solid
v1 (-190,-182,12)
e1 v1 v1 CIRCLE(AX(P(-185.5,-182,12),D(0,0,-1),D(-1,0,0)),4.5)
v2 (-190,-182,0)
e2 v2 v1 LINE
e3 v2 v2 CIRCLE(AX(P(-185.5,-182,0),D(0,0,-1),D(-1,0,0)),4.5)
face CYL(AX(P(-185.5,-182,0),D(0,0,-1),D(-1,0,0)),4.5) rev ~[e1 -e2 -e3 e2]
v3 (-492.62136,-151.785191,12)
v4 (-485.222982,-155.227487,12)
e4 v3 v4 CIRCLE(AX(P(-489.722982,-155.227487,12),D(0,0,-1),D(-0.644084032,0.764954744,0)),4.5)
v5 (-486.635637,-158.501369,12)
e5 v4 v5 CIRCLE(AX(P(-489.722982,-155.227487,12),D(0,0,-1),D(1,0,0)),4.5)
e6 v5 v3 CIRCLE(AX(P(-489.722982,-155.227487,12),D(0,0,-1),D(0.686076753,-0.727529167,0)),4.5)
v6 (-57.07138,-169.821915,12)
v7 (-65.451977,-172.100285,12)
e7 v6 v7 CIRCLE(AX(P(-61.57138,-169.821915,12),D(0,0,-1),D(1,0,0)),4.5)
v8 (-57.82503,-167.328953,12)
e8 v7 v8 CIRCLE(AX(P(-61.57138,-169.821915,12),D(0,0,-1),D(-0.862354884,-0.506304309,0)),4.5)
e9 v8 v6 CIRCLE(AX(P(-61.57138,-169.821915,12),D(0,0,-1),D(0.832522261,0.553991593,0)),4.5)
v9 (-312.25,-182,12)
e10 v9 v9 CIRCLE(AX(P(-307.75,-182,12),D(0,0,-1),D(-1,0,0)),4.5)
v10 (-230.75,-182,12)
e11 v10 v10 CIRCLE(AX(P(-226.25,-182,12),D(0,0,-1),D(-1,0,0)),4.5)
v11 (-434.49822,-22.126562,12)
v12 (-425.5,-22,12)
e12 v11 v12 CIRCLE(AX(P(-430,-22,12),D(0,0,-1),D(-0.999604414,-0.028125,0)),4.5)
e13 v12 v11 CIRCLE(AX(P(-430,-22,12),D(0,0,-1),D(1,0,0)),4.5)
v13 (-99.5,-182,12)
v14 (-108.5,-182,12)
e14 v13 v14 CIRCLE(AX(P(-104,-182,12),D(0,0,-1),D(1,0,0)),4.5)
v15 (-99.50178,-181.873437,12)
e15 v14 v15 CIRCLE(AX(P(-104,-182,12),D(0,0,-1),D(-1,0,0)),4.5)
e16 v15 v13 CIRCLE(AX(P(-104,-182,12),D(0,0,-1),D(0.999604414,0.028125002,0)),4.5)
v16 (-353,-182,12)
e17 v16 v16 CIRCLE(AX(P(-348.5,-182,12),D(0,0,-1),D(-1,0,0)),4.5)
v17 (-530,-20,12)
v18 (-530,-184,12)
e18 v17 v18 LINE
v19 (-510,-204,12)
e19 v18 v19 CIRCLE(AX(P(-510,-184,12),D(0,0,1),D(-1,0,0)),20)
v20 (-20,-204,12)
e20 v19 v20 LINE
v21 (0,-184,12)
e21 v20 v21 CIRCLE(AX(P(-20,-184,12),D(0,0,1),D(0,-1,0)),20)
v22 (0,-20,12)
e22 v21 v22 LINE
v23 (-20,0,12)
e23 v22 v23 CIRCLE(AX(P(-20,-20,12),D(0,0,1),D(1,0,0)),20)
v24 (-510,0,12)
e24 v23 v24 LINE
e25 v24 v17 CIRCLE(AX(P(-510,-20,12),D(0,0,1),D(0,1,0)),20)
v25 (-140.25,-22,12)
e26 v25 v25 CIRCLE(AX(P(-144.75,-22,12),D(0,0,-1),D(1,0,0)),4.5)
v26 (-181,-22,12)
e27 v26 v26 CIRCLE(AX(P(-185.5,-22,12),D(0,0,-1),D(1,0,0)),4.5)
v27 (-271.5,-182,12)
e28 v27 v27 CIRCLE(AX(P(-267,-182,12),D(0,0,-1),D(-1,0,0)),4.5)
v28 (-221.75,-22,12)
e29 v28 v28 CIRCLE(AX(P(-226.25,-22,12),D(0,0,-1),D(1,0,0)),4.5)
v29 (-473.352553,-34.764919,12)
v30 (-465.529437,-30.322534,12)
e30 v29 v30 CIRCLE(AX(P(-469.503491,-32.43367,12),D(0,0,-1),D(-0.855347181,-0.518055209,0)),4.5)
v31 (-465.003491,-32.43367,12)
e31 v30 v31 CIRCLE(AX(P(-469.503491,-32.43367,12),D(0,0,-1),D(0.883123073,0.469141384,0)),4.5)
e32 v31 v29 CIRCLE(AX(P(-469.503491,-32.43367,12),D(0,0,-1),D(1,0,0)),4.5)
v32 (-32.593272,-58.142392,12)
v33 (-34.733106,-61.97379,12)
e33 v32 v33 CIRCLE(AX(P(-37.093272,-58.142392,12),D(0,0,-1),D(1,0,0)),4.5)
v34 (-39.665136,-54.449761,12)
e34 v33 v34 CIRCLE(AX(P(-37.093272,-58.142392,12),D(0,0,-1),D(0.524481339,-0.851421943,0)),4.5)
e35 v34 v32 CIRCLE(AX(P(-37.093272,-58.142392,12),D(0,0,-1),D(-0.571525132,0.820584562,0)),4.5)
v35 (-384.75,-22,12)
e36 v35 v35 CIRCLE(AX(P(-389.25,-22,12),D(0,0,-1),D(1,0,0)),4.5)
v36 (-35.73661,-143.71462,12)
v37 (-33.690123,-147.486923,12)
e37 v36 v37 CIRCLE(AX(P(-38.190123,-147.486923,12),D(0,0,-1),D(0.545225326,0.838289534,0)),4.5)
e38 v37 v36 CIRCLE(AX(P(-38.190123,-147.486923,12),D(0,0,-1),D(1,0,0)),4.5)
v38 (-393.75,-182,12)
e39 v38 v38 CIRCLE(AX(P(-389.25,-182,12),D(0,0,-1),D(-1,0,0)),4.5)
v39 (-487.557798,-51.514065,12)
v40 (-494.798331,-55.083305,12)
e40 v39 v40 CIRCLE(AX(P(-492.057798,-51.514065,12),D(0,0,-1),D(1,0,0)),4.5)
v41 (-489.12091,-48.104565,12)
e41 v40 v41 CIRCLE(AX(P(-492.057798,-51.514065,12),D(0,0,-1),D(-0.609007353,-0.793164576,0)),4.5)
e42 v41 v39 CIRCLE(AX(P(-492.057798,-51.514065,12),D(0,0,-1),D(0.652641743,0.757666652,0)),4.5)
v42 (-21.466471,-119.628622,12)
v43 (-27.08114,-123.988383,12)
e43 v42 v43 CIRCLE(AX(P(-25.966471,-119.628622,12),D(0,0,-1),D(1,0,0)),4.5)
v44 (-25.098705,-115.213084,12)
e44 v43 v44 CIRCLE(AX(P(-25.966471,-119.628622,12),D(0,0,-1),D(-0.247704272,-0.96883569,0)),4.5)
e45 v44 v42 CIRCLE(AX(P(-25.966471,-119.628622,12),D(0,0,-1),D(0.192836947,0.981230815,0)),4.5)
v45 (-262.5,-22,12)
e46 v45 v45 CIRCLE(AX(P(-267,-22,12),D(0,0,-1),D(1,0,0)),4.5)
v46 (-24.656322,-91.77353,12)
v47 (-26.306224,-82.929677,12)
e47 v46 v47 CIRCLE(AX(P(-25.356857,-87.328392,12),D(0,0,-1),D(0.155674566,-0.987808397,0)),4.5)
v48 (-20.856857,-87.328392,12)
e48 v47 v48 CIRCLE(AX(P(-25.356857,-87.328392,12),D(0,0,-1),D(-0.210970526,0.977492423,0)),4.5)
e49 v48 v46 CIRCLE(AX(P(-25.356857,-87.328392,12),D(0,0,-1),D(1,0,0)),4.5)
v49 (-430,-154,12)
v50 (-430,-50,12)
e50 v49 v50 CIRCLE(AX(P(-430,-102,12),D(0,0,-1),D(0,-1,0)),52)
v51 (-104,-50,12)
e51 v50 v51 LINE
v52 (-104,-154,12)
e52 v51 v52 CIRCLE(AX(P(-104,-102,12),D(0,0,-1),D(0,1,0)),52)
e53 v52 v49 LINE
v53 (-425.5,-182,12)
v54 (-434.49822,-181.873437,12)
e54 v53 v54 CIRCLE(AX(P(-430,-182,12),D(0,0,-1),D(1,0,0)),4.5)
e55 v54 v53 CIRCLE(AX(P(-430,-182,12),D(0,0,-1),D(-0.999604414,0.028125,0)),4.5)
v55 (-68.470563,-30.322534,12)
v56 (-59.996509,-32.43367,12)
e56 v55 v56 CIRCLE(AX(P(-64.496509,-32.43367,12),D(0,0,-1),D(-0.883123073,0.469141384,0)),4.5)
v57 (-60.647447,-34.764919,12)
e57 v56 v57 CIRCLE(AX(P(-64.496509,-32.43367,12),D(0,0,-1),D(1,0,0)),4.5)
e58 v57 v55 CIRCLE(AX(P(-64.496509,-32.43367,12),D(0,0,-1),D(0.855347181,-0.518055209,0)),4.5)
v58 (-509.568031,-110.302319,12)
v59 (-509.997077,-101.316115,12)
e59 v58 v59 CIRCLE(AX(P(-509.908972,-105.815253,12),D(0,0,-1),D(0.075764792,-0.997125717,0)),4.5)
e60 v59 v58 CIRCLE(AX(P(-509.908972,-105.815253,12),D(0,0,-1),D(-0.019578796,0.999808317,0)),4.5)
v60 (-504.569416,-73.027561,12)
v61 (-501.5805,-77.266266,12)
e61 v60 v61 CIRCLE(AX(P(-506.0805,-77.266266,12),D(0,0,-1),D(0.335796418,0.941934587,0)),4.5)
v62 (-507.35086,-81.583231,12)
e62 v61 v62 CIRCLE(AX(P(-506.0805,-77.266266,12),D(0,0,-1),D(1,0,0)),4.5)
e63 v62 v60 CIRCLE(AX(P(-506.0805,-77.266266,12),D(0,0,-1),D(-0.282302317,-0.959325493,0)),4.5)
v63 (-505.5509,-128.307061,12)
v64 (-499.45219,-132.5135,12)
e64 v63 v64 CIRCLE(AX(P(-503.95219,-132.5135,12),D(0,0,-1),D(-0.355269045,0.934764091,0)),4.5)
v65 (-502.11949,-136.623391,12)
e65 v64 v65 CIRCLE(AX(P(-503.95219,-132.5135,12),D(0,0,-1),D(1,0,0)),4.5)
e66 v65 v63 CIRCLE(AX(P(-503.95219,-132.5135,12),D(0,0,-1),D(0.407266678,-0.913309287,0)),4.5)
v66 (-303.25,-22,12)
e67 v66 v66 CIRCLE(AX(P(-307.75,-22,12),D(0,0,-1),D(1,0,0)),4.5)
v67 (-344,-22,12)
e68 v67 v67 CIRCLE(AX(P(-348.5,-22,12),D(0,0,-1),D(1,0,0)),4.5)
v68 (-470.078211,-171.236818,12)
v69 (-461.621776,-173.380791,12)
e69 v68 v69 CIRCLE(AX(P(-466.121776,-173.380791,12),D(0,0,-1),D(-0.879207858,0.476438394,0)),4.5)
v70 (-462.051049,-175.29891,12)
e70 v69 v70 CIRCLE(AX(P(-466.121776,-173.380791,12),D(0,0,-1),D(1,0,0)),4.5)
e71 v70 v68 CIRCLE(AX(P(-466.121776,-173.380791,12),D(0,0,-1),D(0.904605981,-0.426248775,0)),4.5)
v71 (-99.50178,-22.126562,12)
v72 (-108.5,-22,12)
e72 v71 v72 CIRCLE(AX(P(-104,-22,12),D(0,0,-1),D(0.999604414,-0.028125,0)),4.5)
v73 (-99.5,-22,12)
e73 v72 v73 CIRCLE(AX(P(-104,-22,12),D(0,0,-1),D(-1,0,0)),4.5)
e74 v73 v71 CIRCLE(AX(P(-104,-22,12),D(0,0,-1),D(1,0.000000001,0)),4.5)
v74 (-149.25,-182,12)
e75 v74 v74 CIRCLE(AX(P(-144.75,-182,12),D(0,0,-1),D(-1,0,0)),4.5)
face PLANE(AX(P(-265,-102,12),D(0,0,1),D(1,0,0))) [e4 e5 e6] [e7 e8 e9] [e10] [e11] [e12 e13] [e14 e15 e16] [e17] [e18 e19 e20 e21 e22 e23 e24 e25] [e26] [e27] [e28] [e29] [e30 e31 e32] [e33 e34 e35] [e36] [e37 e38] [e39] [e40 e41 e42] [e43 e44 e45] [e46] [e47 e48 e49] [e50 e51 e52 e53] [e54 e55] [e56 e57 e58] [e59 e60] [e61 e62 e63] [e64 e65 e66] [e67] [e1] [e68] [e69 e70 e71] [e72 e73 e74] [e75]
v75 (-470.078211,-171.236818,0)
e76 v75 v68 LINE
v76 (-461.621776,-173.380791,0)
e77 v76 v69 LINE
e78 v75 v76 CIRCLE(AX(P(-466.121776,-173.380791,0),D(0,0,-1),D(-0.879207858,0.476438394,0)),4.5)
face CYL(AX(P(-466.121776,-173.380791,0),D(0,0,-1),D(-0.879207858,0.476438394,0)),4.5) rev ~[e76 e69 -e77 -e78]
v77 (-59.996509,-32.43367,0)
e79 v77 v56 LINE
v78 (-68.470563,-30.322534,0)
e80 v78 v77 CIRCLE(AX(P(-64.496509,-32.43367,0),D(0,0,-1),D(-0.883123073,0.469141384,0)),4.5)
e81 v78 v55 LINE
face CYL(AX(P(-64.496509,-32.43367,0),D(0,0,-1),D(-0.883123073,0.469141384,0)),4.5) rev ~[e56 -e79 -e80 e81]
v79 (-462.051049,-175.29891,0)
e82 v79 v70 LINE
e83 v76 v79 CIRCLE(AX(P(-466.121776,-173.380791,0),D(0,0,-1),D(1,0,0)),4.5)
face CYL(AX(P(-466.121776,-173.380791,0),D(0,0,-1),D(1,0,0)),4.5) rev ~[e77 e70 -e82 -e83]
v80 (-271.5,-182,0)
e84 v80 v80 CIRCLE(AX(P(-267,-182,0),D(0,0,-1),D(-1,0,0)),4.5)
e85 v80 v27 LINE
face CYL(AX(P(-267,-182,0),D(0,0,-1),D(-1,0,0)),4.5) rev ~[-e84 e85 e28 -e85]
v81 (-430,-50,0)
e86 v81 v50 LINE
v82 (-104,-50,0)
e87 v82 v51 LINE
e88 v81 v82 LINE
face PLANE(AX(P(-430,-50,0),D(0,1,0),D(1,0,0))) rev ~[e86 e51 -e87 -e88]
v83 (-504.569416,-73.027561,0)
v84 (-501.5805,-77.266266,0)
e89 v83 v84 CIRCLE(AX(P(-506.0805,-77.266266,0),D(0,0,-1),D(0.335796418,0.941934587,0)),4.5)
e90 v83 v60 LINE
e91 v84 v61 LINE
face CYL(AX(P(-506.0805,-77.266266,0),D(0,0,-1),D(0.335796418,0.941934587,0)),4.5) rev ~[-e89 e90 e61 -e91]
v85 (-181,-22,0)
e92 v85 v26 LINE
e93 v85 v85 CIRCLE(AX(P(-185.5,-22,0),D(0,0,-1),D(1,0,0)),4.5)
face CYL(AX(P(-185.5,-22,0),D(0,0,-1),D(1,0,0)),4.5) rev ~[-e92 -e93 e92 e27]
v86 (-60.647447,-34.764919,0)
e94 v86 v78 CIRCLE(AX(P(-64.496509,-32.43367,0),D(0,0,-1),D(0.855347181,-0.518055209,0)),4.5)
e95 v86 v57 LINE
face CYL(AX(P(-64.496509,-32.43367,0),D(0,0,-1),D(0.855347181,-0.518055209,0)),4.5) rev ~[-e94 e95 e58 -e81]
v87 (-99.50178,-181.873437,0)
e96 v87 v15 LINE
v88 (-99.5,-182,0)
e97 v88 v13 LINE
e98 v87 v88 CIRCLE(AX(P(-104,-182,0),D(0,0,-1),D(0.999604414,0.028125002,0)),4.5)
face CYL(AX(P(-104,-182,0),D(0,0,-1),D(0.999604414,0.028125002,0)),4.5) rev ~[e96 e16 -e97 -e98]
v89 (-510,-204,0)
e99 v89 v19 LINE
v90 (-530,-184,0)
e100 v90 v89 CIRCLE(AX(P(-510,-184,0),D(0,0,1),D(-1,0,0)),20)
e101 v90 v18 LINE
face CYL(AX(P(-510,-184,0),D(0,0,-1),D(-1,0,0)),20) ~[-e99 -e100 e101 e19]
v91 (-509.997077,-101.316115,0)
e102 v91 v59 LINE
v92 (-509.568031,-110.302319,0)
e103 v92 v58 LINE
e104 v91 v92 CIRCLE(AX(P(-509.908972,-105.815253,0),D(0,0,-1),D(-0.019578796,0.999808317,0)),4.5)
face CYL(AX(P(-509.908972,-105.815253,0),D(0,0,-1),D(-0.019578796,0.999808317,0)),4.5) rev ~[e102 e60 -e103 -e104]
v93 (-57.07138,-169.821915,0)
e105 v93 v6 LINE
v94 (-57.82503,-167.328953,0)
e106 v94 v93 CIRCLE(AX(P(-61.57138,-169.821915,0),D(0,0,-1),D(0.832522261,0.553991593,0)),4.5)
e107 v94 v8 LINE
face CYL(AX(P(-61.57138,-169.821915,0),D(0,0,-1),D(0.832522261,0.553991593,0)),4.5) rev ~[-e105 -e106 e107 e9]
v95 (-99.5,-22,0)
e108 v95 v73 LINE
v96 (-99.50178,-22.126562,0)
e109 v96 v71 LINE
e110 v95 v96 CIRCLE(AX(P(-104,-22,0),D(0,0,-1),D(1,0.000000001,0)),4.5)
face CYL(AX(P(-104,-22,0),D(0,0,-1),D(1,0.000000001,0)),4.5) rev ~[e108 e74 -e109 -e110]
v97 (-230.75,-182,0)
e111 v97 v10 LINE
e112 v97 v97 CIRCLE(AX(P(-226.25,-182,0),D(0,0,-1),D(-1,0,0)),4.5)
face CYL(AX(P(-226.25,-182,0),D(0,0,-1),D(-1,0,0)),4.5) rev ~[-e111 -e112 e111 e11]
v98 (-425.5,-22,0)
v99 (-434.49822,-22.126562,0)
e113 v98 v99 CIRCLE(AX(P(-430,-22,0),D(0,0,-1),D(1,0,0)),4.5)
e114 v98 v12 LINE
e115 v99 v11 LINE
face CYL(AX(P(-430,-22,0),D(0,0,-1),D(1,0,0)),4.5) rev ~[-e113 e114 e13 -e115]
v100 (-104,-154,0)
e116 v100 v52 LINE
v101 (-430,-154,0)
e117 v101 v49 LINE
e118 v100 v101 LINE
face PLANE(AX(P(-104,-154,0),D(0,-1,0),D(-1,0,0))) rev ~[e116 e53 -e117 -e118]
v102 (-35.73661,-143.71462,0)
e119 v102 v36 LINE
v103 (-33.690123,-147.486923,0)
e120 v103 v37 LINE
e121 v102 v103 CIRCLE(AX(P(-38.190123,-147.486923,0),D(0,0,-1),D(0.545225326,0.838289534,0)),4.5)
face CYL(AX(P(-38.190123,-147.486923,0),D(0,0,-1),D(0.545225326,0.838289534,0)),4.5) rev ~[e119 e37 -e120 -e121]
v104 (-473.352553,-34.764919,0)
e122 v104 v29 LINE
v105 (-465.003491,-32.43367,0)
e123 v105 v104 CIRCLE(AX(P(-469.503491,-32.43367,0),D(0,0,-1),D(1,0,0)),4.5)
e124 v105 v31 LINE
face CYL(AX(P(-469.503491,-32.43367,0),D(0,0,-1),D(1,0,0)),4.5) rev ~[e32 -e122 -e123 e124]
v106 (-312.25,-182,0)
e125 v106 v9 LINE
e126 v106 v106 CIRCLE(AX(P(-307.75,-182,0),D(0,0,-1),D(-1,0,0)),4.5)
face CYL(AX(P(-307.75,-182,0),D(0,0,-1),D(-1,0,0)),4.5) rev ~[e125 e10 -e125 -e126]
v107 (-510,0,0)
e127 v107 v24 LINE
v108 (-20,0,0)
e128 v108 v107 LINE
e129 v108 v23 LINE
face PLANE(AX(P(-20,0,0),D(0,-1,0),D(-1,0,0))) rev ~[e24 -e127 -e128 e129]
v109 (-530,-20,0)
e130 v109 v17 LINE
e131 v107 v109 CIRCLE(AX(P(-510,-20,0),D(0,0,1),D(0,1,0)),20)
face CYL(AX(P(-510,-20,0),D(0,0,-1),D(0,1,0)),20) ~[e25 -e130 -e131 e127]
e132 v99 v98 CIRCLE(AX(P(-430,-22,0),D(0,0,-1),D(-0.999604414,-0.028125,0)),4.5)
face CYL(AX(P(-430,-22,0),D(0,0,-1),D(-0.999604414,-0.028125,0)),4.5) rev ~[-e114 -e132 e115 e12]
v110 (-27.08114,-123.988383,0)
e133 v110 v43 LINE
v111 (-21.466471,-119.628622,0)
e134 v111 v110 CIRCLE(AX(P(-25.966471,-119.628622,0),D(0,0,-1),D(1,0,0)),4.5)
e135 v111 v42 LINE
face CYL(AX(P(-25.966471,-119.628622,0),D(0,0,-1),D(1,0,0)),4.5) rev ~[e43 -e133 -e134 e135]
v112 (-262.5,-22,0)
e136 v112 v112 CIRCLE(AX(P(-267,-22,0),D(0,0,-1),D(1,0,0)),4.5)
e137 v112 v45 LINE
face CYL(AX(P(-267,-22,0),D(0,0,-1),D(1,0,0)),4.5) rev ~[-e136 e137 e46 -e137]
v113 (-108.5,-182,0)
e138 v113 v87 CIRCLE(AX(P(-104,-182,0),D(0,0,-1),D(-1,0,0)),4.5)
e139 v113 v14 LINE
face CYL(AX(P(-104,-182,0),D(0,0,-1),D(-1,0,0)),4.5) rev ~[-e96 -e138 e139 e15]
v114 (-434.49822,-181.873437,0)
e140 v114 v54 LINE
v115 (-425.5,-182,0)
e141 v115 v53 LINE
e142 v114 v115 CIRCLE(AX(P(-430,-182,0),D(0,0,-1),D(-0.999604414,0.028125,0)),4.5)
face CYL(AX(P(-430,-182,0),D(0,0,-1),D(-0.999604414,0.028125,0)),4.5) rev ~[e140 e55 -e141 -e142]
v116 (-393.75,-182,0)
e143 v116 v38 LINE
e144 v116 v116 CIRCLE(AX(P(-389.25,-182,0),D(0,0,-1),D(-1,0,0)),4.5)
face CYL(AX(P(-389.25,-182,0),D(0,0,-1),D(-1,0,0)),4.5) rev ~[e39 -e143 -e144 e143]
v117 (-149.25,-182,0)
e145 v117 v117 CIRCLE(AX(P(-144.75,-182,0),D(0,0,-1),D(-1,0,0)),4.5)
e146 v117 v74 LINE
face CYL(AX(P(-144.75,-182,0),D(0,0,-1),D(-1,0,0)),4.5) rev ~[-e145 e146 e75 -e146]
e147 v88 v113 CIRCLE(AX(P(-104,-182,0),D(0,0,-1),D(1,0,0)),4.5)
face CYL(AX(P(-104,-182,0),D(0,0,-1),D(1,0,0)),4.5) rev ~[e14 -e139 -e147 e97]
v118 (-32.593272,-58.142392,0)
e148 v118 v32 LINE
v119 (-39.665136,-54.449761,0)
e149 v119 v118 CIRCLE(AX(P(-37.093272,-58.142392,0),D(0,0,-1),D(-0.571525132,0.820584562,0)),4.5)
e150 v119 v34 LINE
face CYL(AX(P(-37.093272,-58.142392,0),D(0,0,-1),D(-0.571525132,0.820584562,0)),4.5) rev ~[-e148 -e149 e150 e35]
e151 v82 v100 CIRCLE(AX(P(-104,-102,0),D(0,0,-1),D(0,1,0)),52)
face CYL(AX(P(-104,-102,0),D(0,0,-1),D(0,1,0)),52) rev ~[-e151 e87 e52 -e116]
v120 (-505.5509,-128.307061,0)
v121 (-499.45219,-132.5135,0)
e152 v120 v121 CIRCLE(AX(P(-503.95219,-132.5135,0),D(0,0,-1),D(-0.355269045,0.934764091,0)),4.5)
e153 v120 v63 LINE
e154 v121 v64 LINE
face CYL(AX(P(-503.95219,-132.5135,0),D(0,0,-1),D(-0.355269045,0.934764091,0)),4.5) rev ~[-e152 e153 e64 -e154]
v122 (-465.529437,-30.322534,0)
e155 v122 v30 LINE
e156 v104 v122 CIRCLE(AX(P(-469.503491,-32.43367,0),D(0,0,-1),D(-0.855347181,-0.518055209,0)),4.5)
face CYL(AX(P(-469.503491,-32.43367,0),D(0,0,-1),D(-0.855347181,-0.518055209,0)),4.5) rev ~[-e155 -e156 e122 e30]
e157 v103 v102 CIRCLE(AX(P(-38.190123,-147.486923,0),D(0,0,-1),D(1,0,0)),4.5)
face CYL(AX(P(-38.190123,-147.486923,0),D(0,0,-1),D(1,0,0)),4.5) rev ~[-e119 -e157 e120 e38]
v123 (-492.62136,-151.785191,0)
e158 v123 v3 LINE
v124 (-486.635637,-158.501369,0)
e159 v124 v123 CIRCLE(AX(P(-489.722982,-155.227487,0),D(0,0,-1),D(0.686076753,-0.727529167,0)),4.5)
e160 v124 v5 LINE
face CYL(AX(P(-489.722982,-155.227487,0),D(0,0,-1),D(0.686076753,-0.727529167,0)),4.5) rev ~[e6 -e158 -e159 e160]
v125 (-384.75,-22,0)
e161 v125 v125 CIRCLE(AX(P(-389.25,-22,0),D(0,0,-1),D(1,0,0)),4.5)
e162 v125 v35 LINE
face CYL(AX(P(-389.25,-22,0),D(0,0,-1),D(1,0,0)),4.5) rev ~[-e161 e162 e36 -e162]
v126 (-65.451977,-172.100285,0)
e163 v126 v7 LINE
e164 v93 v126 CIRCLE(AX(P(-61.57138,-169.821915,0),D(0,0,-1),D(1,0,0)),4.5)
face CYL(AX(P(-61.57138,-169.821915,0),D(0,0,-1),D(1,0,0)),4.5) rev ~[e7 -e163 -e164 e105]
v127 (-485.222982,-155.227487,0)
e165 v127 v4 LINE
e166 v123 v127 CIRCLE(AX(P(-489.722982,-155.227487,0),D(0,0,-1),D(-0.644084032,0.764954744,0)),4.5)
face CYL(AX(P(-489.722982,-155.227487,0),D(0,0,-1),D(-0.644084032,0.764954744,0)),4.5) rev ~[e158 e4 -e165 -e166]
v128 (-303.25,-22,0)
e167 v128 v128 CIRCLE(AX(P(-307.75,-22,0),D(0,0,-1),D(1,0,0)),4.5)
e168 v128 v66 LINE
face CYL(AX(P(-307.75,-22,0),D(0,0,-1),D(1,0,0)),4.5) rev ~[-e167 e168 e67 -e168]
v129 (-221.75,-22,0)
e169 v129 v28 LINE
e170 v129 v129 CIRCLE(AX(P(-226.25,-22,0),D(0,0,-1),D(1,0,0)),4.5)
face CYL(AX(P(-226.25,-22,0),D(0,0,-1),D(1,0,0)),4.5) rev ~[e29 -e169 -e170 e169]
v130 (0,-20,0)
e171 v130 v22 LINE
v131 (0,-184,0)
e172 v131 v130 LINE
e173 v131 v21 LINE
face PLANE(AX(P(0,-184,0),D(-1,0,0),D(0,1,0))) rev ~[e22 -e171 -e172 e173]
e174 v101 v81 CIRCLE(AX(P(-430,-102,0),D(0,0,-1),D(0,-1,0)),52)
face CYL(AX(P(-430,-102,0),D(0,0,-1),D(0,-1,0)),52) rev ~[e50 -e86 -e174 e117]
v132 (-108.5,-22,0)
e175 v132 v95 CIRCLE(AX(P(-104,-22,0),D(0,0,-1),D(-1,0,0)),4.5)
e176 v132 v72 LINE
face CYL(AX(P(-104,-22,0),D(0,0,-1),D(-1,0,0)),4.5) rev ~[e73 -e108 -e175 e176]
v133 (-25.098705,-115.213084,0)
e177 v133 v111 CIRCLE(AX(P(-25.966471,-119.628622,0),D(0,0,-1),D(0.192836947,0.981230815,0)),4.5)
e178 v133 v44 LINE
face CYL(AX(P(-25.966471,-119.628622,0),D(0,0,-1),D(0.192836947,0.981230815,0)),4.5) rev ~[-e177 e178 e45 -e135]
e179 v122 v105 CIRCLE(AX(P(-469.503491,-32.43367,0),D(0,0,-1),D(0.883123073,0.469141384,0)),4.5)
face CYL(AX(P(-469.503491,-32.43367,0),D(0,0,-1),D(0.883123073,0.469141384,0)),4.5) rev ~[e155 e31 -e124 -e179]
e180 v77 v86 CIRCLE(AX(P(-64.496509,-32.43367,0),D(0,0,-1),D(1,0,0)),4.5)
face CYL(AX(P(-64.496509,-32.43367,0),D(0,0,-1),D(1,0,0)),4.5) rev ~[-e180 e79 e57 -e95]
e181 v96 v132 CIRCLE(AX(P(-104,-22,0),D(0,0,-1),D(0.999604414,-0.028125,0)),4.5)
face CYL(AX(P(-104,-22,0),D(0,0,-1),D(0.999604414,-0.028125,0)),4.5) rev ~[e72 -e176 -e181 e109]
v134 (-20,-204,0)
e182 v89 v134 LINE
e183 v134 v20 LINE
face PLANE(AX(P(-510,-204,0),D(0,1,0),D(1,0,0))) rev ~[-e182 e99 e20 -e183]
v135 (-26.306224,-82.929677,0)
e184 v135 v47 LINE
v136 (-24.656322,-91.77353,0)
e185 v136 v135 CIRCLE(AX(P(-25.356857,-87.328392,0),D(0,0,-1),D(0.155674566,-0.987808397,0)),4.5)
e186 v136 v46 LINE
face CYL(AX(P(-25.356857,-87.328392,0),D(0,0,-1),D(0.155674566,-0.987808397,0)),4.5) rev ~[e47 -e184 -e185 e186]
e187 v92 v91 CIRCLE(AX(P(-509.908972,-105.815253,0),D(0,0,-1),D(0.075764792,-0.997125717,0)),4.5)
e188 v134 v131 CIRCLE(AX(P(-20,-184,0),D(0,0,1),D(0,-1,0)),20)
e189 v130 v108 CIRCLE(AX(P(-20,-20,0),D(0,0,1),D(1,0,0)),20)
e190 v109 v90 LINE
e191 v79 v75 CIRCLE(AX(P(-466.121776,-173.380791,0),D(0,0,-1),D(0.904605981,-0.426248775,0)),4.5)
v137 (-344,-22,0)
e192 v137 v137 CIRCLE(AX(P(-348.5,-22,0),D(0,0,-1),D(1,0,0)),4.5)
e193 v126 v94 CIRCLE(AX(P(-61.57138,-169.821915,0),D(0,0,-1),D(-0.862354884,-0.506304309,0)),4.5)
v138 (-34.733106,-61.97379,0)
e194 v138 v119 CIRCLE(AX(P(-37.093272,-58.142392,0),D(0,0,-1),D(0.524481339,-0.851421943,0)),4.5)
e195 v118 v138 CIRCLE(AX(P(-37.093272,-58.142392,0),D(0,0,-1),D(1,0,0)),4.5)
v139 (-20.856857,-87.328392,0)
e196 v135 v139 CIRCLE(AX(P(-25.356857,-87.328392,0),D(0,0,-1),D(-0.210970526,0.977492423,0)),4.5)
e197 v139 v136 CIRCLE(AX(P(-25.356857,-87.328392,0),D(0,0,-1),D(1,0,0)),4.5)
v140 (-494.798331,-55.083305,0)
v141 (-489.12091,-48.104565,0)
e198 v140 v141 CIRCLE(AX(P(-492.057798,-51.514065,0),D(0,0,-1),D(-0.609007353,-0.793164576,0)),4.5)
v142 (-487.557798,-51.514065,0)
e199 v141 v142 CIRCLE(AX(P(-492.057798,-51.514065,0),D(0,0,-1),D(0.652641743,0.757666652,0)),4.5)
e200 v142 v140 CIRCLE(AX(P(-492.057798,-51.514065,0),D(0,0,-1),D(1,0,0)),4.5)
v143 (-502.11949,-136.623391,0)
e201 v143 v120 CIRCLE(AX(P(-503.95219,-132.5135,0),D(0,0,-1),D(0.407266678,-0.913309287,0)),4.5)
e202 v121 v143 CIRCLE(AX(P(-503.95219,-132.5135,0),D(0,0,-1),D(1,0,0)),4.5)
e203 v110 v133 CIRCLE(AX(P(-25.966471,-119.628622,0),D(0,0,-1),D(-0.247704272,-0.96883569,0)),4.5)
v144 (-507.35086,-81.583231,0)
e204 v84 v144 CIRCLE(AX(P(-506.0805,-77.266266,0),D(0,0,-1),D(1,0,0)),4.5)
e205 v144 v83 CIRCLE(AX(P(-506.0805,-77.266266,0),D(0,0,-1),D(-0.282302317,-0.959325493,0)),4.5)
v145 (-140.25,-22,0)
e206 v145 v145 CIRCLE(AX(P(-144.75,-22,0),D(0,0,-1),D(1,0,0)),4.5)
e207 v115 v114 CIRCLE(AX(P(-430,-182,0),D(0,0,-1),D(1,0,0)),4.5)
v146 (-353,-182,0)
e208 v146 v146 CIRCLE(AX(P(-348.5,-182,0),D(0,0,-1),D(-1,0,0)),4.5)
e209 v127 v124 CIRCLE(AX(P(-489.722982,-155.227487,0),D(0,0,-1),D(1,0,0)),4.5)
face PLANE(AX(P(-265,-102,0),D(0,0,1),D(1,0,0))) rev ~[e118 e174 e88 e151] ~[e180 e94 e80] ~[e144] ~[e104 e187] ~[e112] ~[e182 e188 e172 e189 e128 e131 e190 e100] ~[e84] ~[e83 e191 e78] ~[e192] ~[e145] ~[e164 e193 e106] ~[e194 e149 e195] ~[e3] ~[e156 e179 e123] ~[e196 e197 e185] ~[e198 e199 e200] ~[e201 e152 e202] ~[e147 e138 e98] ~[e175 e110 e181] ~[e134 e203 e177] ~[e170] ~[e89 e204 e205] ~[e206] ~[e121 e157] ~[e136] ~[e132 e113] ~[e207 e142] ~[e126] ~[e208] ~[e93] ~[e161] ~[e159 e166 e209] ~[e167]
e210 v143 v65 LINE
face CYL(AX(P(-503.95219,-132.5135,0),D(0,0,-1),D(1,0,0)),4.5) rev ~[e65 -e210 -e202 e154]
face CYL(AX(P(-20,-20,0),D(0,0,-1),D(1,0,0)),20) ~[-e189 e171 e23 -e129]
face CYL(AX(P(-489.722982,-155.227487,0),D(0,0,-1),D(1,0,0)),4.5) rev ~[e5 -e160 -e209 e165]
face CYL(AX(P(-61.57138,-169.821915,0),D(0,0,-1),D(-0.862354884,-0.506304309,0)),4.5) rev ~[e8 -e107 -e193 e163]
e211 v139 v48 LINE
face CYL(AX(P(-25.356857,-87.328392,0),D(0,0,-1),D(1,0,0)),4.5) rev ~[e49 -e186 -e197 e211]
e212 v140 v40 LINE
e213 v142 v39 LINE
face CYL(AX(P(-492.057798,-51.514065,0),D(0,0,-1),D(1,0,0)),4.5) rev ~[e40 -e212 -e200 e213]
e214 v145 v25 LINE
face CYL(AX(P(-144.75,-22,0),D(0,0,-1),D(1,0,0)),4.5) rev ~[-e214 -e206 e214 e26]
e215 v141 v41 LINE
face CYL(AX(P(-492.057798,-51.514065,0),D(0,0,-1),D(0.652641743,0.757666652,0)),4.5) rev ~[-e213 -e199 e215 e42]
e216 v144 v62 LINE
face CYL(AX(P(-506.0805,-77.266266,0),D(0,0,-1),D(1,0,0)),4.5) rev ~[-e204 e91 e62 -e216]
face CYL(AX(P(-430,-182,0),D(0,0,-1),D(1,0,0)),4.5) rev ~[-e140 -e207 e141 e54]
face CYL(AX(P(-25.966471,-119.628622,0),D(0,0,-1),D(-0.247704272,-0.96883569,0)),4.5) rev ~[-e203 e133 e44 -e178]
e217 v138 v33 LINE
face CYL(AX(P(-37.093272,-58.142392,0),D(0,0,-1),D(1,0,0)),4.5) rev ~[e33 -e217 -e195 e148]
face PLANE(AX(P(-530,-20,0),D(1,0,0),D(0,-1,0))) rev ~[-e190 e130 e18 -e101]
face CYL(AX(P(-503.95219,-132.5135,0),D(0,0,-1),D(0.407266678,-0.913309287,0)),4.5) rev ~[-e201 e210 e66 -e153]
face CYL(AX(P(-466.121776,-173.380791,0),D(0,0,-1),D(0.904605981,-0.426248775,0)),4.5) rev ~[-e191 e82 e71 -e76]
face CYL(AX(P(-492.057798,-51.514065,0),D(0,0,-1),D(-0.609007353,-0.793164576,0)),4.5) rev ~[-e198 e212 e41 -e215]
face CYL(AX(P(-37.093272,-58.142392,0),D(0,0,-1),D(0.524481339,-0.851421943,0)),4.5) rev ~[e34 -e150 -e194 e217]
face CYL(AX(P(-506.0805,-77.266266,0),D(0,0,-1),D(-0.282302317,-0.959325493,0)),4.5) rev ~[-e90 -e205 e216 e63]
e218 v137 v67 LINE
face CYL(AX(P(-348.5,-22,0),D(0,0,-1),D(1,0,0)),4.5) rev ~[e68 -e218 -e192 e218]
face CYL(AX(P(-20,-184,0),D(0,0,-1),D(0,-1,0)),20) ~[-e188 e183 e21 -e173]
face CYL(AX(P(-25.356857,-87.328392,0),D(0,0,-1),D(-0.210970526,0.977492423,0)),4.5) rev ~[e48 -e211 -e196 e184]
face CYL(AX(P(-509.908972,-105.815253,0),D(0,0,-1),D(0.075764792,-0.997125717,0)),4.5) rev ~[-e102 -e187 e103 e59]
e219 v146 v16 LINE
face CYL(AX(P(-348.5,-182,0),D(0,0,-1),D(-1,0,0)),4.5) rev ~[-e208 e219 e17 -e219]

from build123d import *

# Parameters (mm, degrees)
F1_DEPTH = 12


with BuildPart() as f1:
    # F0 (on Top) → F1 (new body)
    with BuildSketch(Plane.XY):
        with BuildLine():
            ThreePointArc((0, -20), (-5.8578643763, -5.8578643763), (-20, 0))
            Line((-20, 0), (-510, 0))
            ThreePointArc((-510, 0), (-524.1421356237, -5.8578643763), (-530, -20))
            Line((-530, -20), (-530, -184))
            ThreePointArc((-530, -184), (-524.1421356237, -198.1421356237), (-510, -204))
            Line((-510, -204), (-20, -204))
            ThreePointArc((-20, -204), (-5.8578643763, -198.1421356237), (0, -184))
            Line((0, -184), (0, -20))
        make_face()
        with BuildLine():
            ThreePointArc((-65.4519767199, -172.1002846014), (-81.9291279834, -178.8952313764), (-99.5017801373, -181.8734375))
            ThreePointArc((-99.5017801373, -181.8734375), (-99.5004450563, -181.9367124908), (-99.5, -182))
            ThreePointArc((-99.5, -182), (-104, -186.5), (-108.5, -182))
            Line((-108.5, -182), (-140.25, -182))
            ThreePointArc((-140.25, -182), (-144.75, -186.5), (-149.25, -182))
            Line((-149.25, -182), (-181, -182))
            ThreePointArc((-181, -182), (-185.5, -186.5), (-190, -182))
            Line((-190, -182), (-221.75, -182))
            ThreePointArc((-221.75, -182), (-226.25, -186.5), (-230.75, -182))
            Line((-230.75, -182), (-262.5, -182))
            ThreePointArc((-262.5, -182), (-267, -186.5), (-271.5, -182))
            Line((-271.5, -182), (-303.25, -182))
            ThreePointArc((-303.25, -182), (-307.75, -186.5), (-312.25, -182))
            Line((-312.25, -182), (-344, -182))
            ThreePointArc((-344, -182), (-348.5, -186.5), (-353, -182))
            Line((-353, -182), (-384.75, -182))
            ThreePointArc((-384.75, -182), (-389.25, -186.5), (-393.75, -182))
            Line((-393.75, -182), (-425.5, -182))
            ThreePointArc((-425.5, -182), (-430.0632875092, -186.4995549437), (-434.4982198627, -181.8734375))
            ThreePointArc((-434.4982198627, -181.8734375), (-448.5679392383, -179.8153688704), (-462.0510491082, -175.2989102993))
            ThreePointArc((-462.0510491082, -175.2989102993), (-468.1536259261, -177.3959602942), (-470.0782113843, -171.2368180395))
            ThreePointArc((-470.0782113843, -171.2368180395), (-478.7743786861, -165.4118284217), (-486.6356366159, -158.5013687012))
            ThreePointArc((-486.6356366159, -158.5013687012), (-493.0823997438, -158.2215336198), (-492.6213601483, -151.7851911032))
            ThreePointArc((-492.6213601483, -151.7851911032), (-497.7956059382, -144.4706465158), (-502.1194895148, -136.6233914013))
            ThreePointArc((-502.1194895148, -136.6233914013), (-508.1120002281, -134.2298839644), (-505.5509002656, -128.3070612014))
            ThreePointArc((-505.5509002656, -128.3070612014), (-508.080172735, -119.4208675351), (-509.5680306838, -110.3023185374))
            ThreePointArc((-509.5680306838, -110.3023185374), (-514.4038519387, -106.0298607798), (-509.997076833, -101.3161153828))
            ThreePointArc((-509.997076833, -101.3161153828), (-509.2902263095, -91.367031845), (-507.3508600021, -81.5832309869))
            ThreePointArc((-507.3508600021, -81.5832309869), (-510.3600276767, -75.8749937453), (-504.5694156933, -73.027560628))
            ThreePointArc((-504.5694156933, -73.027560628), (-500.2591012463, -63.7422074335), (-494.7983314011, -55.0833052354))
            ThreePointArc((-494.7983314011, -55.0833052354), (-495.5485494674, -48.6742307817), (-489.120910471, -48.1045647102))
            ThreePointArc((-489.120910471, -48.1045647102), (-481.6690354204, -40.9237298231), (-473.3525530823, -34.7649188203))
            ThreePointArc((-473.3525530823, -34.7649188203), (-471.7255621238, -28.5205643363), (-465.5294369402, -30.3225341498))
            ThreePointArc((-465.5294369402, -30.3225341498), (-450.4290678961, -24.6523873355), (-434.4982198627, -22.1265625))
            ThreePointArc((-434.4982198627, -22.1265625), (-430.0632875092, -17.5004450563), (-425.5, -22))
            Line((-425.5, -22), (-393.75, -22))
            ThreePointArc((-393.75, -22), (-389.25, -17.5), (-384.75, -22))
            Line((-384.75, -22), (-353, -22))
            ThreePointArc((-353, -22), (-348.5, -17.5), (-344, -22))
            Line((-344, -22), (-312.25, -22))
            ThreePointArc((-312.25, -22), (-307.75, -17.5), (-303.25, -22))
            Line((-303.25, -22), (-271.5, -22))
            ThreePointArc((-271.5, -22), (-267, -17.5), (-262.5, -22))
            Line((-262.5, -22), (-230.75, -22))
            ThreePointArc((-230.75, -22), (-226.25, -17.5), (-221.75, -22))
            Line((-221.75, -22), (-190, -22))
            ThreePointArc((-190, -22), (-185.5, -17.5), (-181, -22))
            Line((-181, -22), (-149.25, -22))
            ThreePointArc((-149.25, -22), (-144.75, -17.5), (-140.25, -22))
            Line((-140.25, -22), (-108.5, -22))
            ThreePointArc((-108.5, -22), (-104, -17.5), (-99.5, -22))
            ThreePointArc((-99.5, -22), (-99.5004450563, -22.0632875092), (-99.5017801373, -22.1265625))
            ThreePointArc((-99.5017801373, -22.1265625), (-83.5709321039, -24.6523873355), (-68.4705630598, -30.3225341498))
            ThreePointArc((-68.4705630598, -30.3225341498), (-63.4086770357, -28.0671361555), (-59.9965092319, -32.4336703776))
            ThreePointArc((-59.9965092319, -32.4336703776), (-60.1622976303, -33.6438810176), (-60.6474469177, -34.7649188203))
            ThreePointArc((-60.6474469177, -34.7649188203), (-49.2641047488, -43.656347637), (-39.6651355348, -54.4497611547))
            ThreePointArc((-39.6651355348, -54.4497611547), (-35.0104118982, -54.1534454615), (-32.5932724402, -58.1423916836))
            ThreePointArc((-32.5932724402, -58.1423916836), (-33.1644846423, -60.3366173874), (-34.7331064133, -61.9737904262))
            ThreePointArc((-34.7331064133, -61.9737904262), (-29.7763726264, -72.1528369941), (-26.3062244277, -82.9296765281))
            ThreePointArc((-26.3062244277, -82.9296765281), (-22.5303886947, -83.8268104215), (-20.8568570607, -87.328392432))
            ThreePointArc((-20.8568570607, -87.328392432), (-21.9361546501, -90.2522246806), (-24.6563215132, -91.7735302191))
            ThreePointArc((-24.6563215132, -91.7735302191), (-24.0142443395, -103.509599757), (-25.098704585, -115.213083737))
            ThreePointArc((-25.098704585, -115.213083737), (-22.4912048008, -116.7698593997), (-21.4664708465, -119.6286224035))
            ThreePointArc((-21.4664708465, -119.6286224035), (-23.206580587, -123.1829163918), (-27.0811400712, -123.9883830069))
            ThreePointArc((-27.0811400712, -123.9883830069), (-30.7418771392, -134.1441664211), (-35.7366095136, -143.7146199706))
            ThreePointArc((-35.7366095136, -143.7146199706), (-34.2346960173, -145.3410912021), (-33.690123482, -147.4869228756))
            ThreePointArc((-33.690123482, -147.4869228756), (-36.1563870671, -151.5011371442), (-40.8518640129, -151.1153023136))
            ThreePointArc((-40.8518640129, -151.1153023136), (-48.7405572157, -159.8480248856), (-57.8250295667, -167.3289530414))
            ThreePointArc((-57.8250295667, -167.3289530414), (-57.2639108905, -168.5197200987), (-57.0713797401, -169.8219152107))
            ThreePointArc((-57.0713797401, -169.8219152107), (-60.3908473198, -174.1643043232), (-65.4519767199, -172.1002846014))
        make_face(mode=Mode.SUBTRACT)
        with BuildLine():
            ThreePointArc((-108.5, -182), (-104.0632875092, -177.5004450563), (-99.5017801373, -181.8734375))
            ThreePointArc((-99.5017801373, -181.8734375), (-81.9291279834, -178.8952313764), (-65.4519767199, -172.1002846014))
            ThreePointArc((-65.4519767199, -172.1002846014), (-63.9579896298, -166.0069324801), (-57.8250295667, -167.3289530414))
            ThreePointArc((-57.8250295667, -167.3289530414), (-48.7405572157, -159.8480248856), (-40.8518640129, -151.1153023136))
            ThreePointArc((-40.8518640129, -151.1153023136), (-41.8919290362, -144.9282834638), (-35.7366095136, -143.7146199706))
            ThreePointArc((-35.7366095136, -143.7146199706), (-30.7418771392, -134.1441664211), (-27.0811400712, -123.9883830069))
            ThreePointArc((-27.0811400712, -123.9883830069), (-30.3558568614, -118.6370123933), (-25.098704585, -115.213083737))
            ThreePointArc((-25.098704585, -115.213083737), (-24.0142443395, -103.509599757), (-24.6563215132, -91.7735302191))
            ThreePointArc((-24.6563215132, -91.7735302191), (-29.780533851, -88.1536703577), (-26.3062244277, -82.9296765281))
            ThreePointArc((-26.3062244277, -82.9296765281), (-29.7763726264, -72.1528369941), (-34.7331064133, -61.9737904262))
            ThreePointArc((-34.7331064133, -61.9737904262), (-40.8567758654, -60.6093821514), (-39.6651355348, -54.4497611547))
            ThreePointArc((-39.6651355348, -54.4497611547), (-49.2641047488, -43.656347637), (-60.6474469177, -34.7649188203))
            ThreePointArc((-60.6474469177, -34.7649188203), (-66.7185805876, -36.3467764189), (-68.4705630598, -30.3225341498))
            ThreePointArc((-68.4705630598, -30.3225341498), (-83.5709321039, -24.6523873355), (-99.5017801373, -22.1265625))
            ThreePointArc((-99.5017801373, -22.1265625), (-104.0632875092, -26.4995549437), (-108.5, -22))
            Line((-108.5, -22), (-140.25, -22))
            ThreePointArc((-140.25, -22), (-144.75, -26.5), (-149.25, -22))
            Line((-149.25, -22), (-181, -22))
            ThreePointArc((-181, -22), (-185.5, -26.5), (-190, -22))
            Line((-190, -22), (-221.75, -22))
            ThreePointArc((-221.75, -22), (-226.25, -26.5), (-230.75, -22))
            Line((-230.75, -22), (-262.5, -22))
            ThreePointArc((-262.5, -22), (-267, -26.5), (-271.5, -22))
            Line((-271.5, -22), (-303.25, -22))
            ThreePointArc((-303.25, -22), (-307.75, -26.5), (-312.25, -22))
            Line((-312.25, -22), (-344, -22))
            ThreePointArc((-344, -22), (-348.5, -26.5), (-353, -22))
            Line((-353, -22), (-384.75, -22))
            ThreePointArc((-384.75, -22), (-389.25, -26.5), (-393.75, -22))
            Line((-393.75, -22), (-425.5, -22))
            ThreePointArc((-425.5, -22), (-429.9367124908, -26.4995549437), (-434.4982198627, -22.1265625))
            ThreePointArc((-434.4982198627, -22.1265625), (-450.4290678961, -24.6523873355), (-465.5294369402, -30.3225341498))
            ThreePointArc((-465.5294369402, -30.3225341498), (-465.136956546, -31.3458381814), (-465.0034907681, -32.4336703776))
            ThreePointArc((-465.0034907681, -32.4336703776), (-468.2932801282, -36.7678819791), (-473.3525530823, -34.7649188203))
            ThreePointArc((-473.3525530823, -34.7649188203), (-481.6690354204, -40.9237298231), (-489.120910471, -48.1045647102))
            ThreePointArc((-489.120910471, -48.1045647102), (-487.9671996223, -49.6386973861), (-487.5577983123, -51.5140646454))
            ThreePointArc((-487.5577983123, -51.5140646454), (-490.068124834, -55.5503004474), (-494.7983314011, -55.0833052354))
            ThreePointArc((-494.7983314011, -55.0833052354), (-500.2591012463, -63.7422074335), (-504.5694156933, -73.027560628))
            ThreePointArc((-504.5694156933, -73.027560628), (-502.4028727952, -74.6729939595), (-501.5804995755, -77.2662662678))
            ThreePointArc((-501.5804995755, -77.2662662678), (-503.3848198764, -80.8695024465), (-507.3508600021, -81.5832309869))
            ThreePointArc((-507.3508600021, -81.5832309869), (-509.2902263095, -91.367031845), (-509.997076833, -101.3161153828))
            ThreePointArc((-509.997076833, -101.3161153828), (-506.7582953879, -102.6022736135), (-505.4089722497, -105.8152528093))
            ThreePointArc((-505.4089722497, -105.8152528093), (-506.6086512769, -108.8743182673), (-509.5680306838, -110.3023185374))
            ThreePointArc((-509.5680306838, -110.3023185374), (-508.080172735, -119.4208675351), (-505.5509002656, -128.3070612014))
            ThreePointArc((-505.5509002656, -128.3070612014), (-501.3972138463, -128.809164438), (-499.4521895651, -132.5134996113))
            ThreePointArc((-499.4521895651, -132.5134996113), (-500.1774610831, -134.9632801906), (-502.1194895148, -136.6233914013))
            ThreePointArc((-502.1194895148, -136.6233914013), (-497.7956059382, -144.4706465158), (-492.6213601483, -151.7851911032))
            ThreePointArc((-492.6213601483, -151.7851911032), (-487.8246540101, -151.1474934776), (-485.222982006, -155.2274874507))
            ThreePointArc((-485.222982006, -155.2274874507), (-485.5912115468, -157.0103146639), (-486.6356366159, -158.5013687012))
            ThreePointArc((-486.6356366159, -158.5013687012), (-478.7743786861, -165.4118284217), (-470.0782113843, -171.2368180395))
            ThreePointArc((-470.0782113843, -171.2368180395), (-465.0158734789, -169.0187981977), (-461.6217760248, -173.3807908111))
            ThreePointArc((-461.6217760248, -173.3807908111), (-461.7304054457, -174.3635748351), (-462.0510491082, -175.2989102993))
            ThreePointArc((-462.0510491082, -175.2989102993), (-448.5679392383, -179.8153688704), (-434.4982198627, -181.8734375))
            ThreePointArc((-434.4982198627, -181.8734375), (-429.9367124908, -177.5004450563), (-425.5, -182))
            Line((-425.5, -182), (-393.75, -182))
            ThreePointArc((-393.75, -182), (-389.25, -177.5), (-384.75, -182))
            Line((-384.75, -182), (-353, -182))
            ThreePointArc((-353, -182), (-348.5, -177.5), (-344, -182))
            Line((-344, -182), (-312.25, -182))
            ThreePointArc((-312.25, -182), (-307.75, -177.5), (-303.25, -182))
            Line((-303.25, -182), (-271.5, -182))
            ThreePointArc((-271.5, -182), (-267, -177.5), (-262.5, -182))
            Line((-262.5, -182), (-230.75, -182))
            ThreePointArc((-230.75, -182), (-226.25, -177.5), (-221.75, -182))
            Line((-221.75, -182), (-190, -182))
            ThreePointArc((-190, -182), (-185.5, -177.5), (-181, -182))
            Line((-181, -182), (-149.25, -182))
            ThreePointArc((-149.25, -182), (-144.75, -177.5), (-140.25, -182))
            Line((-140.25, -182), (-108.5, -182))
        make_face()
        with BuildLine():
            ThreePointArc((-430, -154), (-482, -102), (-430, -50))
            Line((-430, -50), (-104, -50))
            ThreePointArc((-104, -50), (-52, -102), (-104, -154))
            Line((-104, -154), (-430, -154))
        make_face(mode=Mode.SUBTRACT)
    extrude(amount=F1_DEPTH)


solid = f1.part
